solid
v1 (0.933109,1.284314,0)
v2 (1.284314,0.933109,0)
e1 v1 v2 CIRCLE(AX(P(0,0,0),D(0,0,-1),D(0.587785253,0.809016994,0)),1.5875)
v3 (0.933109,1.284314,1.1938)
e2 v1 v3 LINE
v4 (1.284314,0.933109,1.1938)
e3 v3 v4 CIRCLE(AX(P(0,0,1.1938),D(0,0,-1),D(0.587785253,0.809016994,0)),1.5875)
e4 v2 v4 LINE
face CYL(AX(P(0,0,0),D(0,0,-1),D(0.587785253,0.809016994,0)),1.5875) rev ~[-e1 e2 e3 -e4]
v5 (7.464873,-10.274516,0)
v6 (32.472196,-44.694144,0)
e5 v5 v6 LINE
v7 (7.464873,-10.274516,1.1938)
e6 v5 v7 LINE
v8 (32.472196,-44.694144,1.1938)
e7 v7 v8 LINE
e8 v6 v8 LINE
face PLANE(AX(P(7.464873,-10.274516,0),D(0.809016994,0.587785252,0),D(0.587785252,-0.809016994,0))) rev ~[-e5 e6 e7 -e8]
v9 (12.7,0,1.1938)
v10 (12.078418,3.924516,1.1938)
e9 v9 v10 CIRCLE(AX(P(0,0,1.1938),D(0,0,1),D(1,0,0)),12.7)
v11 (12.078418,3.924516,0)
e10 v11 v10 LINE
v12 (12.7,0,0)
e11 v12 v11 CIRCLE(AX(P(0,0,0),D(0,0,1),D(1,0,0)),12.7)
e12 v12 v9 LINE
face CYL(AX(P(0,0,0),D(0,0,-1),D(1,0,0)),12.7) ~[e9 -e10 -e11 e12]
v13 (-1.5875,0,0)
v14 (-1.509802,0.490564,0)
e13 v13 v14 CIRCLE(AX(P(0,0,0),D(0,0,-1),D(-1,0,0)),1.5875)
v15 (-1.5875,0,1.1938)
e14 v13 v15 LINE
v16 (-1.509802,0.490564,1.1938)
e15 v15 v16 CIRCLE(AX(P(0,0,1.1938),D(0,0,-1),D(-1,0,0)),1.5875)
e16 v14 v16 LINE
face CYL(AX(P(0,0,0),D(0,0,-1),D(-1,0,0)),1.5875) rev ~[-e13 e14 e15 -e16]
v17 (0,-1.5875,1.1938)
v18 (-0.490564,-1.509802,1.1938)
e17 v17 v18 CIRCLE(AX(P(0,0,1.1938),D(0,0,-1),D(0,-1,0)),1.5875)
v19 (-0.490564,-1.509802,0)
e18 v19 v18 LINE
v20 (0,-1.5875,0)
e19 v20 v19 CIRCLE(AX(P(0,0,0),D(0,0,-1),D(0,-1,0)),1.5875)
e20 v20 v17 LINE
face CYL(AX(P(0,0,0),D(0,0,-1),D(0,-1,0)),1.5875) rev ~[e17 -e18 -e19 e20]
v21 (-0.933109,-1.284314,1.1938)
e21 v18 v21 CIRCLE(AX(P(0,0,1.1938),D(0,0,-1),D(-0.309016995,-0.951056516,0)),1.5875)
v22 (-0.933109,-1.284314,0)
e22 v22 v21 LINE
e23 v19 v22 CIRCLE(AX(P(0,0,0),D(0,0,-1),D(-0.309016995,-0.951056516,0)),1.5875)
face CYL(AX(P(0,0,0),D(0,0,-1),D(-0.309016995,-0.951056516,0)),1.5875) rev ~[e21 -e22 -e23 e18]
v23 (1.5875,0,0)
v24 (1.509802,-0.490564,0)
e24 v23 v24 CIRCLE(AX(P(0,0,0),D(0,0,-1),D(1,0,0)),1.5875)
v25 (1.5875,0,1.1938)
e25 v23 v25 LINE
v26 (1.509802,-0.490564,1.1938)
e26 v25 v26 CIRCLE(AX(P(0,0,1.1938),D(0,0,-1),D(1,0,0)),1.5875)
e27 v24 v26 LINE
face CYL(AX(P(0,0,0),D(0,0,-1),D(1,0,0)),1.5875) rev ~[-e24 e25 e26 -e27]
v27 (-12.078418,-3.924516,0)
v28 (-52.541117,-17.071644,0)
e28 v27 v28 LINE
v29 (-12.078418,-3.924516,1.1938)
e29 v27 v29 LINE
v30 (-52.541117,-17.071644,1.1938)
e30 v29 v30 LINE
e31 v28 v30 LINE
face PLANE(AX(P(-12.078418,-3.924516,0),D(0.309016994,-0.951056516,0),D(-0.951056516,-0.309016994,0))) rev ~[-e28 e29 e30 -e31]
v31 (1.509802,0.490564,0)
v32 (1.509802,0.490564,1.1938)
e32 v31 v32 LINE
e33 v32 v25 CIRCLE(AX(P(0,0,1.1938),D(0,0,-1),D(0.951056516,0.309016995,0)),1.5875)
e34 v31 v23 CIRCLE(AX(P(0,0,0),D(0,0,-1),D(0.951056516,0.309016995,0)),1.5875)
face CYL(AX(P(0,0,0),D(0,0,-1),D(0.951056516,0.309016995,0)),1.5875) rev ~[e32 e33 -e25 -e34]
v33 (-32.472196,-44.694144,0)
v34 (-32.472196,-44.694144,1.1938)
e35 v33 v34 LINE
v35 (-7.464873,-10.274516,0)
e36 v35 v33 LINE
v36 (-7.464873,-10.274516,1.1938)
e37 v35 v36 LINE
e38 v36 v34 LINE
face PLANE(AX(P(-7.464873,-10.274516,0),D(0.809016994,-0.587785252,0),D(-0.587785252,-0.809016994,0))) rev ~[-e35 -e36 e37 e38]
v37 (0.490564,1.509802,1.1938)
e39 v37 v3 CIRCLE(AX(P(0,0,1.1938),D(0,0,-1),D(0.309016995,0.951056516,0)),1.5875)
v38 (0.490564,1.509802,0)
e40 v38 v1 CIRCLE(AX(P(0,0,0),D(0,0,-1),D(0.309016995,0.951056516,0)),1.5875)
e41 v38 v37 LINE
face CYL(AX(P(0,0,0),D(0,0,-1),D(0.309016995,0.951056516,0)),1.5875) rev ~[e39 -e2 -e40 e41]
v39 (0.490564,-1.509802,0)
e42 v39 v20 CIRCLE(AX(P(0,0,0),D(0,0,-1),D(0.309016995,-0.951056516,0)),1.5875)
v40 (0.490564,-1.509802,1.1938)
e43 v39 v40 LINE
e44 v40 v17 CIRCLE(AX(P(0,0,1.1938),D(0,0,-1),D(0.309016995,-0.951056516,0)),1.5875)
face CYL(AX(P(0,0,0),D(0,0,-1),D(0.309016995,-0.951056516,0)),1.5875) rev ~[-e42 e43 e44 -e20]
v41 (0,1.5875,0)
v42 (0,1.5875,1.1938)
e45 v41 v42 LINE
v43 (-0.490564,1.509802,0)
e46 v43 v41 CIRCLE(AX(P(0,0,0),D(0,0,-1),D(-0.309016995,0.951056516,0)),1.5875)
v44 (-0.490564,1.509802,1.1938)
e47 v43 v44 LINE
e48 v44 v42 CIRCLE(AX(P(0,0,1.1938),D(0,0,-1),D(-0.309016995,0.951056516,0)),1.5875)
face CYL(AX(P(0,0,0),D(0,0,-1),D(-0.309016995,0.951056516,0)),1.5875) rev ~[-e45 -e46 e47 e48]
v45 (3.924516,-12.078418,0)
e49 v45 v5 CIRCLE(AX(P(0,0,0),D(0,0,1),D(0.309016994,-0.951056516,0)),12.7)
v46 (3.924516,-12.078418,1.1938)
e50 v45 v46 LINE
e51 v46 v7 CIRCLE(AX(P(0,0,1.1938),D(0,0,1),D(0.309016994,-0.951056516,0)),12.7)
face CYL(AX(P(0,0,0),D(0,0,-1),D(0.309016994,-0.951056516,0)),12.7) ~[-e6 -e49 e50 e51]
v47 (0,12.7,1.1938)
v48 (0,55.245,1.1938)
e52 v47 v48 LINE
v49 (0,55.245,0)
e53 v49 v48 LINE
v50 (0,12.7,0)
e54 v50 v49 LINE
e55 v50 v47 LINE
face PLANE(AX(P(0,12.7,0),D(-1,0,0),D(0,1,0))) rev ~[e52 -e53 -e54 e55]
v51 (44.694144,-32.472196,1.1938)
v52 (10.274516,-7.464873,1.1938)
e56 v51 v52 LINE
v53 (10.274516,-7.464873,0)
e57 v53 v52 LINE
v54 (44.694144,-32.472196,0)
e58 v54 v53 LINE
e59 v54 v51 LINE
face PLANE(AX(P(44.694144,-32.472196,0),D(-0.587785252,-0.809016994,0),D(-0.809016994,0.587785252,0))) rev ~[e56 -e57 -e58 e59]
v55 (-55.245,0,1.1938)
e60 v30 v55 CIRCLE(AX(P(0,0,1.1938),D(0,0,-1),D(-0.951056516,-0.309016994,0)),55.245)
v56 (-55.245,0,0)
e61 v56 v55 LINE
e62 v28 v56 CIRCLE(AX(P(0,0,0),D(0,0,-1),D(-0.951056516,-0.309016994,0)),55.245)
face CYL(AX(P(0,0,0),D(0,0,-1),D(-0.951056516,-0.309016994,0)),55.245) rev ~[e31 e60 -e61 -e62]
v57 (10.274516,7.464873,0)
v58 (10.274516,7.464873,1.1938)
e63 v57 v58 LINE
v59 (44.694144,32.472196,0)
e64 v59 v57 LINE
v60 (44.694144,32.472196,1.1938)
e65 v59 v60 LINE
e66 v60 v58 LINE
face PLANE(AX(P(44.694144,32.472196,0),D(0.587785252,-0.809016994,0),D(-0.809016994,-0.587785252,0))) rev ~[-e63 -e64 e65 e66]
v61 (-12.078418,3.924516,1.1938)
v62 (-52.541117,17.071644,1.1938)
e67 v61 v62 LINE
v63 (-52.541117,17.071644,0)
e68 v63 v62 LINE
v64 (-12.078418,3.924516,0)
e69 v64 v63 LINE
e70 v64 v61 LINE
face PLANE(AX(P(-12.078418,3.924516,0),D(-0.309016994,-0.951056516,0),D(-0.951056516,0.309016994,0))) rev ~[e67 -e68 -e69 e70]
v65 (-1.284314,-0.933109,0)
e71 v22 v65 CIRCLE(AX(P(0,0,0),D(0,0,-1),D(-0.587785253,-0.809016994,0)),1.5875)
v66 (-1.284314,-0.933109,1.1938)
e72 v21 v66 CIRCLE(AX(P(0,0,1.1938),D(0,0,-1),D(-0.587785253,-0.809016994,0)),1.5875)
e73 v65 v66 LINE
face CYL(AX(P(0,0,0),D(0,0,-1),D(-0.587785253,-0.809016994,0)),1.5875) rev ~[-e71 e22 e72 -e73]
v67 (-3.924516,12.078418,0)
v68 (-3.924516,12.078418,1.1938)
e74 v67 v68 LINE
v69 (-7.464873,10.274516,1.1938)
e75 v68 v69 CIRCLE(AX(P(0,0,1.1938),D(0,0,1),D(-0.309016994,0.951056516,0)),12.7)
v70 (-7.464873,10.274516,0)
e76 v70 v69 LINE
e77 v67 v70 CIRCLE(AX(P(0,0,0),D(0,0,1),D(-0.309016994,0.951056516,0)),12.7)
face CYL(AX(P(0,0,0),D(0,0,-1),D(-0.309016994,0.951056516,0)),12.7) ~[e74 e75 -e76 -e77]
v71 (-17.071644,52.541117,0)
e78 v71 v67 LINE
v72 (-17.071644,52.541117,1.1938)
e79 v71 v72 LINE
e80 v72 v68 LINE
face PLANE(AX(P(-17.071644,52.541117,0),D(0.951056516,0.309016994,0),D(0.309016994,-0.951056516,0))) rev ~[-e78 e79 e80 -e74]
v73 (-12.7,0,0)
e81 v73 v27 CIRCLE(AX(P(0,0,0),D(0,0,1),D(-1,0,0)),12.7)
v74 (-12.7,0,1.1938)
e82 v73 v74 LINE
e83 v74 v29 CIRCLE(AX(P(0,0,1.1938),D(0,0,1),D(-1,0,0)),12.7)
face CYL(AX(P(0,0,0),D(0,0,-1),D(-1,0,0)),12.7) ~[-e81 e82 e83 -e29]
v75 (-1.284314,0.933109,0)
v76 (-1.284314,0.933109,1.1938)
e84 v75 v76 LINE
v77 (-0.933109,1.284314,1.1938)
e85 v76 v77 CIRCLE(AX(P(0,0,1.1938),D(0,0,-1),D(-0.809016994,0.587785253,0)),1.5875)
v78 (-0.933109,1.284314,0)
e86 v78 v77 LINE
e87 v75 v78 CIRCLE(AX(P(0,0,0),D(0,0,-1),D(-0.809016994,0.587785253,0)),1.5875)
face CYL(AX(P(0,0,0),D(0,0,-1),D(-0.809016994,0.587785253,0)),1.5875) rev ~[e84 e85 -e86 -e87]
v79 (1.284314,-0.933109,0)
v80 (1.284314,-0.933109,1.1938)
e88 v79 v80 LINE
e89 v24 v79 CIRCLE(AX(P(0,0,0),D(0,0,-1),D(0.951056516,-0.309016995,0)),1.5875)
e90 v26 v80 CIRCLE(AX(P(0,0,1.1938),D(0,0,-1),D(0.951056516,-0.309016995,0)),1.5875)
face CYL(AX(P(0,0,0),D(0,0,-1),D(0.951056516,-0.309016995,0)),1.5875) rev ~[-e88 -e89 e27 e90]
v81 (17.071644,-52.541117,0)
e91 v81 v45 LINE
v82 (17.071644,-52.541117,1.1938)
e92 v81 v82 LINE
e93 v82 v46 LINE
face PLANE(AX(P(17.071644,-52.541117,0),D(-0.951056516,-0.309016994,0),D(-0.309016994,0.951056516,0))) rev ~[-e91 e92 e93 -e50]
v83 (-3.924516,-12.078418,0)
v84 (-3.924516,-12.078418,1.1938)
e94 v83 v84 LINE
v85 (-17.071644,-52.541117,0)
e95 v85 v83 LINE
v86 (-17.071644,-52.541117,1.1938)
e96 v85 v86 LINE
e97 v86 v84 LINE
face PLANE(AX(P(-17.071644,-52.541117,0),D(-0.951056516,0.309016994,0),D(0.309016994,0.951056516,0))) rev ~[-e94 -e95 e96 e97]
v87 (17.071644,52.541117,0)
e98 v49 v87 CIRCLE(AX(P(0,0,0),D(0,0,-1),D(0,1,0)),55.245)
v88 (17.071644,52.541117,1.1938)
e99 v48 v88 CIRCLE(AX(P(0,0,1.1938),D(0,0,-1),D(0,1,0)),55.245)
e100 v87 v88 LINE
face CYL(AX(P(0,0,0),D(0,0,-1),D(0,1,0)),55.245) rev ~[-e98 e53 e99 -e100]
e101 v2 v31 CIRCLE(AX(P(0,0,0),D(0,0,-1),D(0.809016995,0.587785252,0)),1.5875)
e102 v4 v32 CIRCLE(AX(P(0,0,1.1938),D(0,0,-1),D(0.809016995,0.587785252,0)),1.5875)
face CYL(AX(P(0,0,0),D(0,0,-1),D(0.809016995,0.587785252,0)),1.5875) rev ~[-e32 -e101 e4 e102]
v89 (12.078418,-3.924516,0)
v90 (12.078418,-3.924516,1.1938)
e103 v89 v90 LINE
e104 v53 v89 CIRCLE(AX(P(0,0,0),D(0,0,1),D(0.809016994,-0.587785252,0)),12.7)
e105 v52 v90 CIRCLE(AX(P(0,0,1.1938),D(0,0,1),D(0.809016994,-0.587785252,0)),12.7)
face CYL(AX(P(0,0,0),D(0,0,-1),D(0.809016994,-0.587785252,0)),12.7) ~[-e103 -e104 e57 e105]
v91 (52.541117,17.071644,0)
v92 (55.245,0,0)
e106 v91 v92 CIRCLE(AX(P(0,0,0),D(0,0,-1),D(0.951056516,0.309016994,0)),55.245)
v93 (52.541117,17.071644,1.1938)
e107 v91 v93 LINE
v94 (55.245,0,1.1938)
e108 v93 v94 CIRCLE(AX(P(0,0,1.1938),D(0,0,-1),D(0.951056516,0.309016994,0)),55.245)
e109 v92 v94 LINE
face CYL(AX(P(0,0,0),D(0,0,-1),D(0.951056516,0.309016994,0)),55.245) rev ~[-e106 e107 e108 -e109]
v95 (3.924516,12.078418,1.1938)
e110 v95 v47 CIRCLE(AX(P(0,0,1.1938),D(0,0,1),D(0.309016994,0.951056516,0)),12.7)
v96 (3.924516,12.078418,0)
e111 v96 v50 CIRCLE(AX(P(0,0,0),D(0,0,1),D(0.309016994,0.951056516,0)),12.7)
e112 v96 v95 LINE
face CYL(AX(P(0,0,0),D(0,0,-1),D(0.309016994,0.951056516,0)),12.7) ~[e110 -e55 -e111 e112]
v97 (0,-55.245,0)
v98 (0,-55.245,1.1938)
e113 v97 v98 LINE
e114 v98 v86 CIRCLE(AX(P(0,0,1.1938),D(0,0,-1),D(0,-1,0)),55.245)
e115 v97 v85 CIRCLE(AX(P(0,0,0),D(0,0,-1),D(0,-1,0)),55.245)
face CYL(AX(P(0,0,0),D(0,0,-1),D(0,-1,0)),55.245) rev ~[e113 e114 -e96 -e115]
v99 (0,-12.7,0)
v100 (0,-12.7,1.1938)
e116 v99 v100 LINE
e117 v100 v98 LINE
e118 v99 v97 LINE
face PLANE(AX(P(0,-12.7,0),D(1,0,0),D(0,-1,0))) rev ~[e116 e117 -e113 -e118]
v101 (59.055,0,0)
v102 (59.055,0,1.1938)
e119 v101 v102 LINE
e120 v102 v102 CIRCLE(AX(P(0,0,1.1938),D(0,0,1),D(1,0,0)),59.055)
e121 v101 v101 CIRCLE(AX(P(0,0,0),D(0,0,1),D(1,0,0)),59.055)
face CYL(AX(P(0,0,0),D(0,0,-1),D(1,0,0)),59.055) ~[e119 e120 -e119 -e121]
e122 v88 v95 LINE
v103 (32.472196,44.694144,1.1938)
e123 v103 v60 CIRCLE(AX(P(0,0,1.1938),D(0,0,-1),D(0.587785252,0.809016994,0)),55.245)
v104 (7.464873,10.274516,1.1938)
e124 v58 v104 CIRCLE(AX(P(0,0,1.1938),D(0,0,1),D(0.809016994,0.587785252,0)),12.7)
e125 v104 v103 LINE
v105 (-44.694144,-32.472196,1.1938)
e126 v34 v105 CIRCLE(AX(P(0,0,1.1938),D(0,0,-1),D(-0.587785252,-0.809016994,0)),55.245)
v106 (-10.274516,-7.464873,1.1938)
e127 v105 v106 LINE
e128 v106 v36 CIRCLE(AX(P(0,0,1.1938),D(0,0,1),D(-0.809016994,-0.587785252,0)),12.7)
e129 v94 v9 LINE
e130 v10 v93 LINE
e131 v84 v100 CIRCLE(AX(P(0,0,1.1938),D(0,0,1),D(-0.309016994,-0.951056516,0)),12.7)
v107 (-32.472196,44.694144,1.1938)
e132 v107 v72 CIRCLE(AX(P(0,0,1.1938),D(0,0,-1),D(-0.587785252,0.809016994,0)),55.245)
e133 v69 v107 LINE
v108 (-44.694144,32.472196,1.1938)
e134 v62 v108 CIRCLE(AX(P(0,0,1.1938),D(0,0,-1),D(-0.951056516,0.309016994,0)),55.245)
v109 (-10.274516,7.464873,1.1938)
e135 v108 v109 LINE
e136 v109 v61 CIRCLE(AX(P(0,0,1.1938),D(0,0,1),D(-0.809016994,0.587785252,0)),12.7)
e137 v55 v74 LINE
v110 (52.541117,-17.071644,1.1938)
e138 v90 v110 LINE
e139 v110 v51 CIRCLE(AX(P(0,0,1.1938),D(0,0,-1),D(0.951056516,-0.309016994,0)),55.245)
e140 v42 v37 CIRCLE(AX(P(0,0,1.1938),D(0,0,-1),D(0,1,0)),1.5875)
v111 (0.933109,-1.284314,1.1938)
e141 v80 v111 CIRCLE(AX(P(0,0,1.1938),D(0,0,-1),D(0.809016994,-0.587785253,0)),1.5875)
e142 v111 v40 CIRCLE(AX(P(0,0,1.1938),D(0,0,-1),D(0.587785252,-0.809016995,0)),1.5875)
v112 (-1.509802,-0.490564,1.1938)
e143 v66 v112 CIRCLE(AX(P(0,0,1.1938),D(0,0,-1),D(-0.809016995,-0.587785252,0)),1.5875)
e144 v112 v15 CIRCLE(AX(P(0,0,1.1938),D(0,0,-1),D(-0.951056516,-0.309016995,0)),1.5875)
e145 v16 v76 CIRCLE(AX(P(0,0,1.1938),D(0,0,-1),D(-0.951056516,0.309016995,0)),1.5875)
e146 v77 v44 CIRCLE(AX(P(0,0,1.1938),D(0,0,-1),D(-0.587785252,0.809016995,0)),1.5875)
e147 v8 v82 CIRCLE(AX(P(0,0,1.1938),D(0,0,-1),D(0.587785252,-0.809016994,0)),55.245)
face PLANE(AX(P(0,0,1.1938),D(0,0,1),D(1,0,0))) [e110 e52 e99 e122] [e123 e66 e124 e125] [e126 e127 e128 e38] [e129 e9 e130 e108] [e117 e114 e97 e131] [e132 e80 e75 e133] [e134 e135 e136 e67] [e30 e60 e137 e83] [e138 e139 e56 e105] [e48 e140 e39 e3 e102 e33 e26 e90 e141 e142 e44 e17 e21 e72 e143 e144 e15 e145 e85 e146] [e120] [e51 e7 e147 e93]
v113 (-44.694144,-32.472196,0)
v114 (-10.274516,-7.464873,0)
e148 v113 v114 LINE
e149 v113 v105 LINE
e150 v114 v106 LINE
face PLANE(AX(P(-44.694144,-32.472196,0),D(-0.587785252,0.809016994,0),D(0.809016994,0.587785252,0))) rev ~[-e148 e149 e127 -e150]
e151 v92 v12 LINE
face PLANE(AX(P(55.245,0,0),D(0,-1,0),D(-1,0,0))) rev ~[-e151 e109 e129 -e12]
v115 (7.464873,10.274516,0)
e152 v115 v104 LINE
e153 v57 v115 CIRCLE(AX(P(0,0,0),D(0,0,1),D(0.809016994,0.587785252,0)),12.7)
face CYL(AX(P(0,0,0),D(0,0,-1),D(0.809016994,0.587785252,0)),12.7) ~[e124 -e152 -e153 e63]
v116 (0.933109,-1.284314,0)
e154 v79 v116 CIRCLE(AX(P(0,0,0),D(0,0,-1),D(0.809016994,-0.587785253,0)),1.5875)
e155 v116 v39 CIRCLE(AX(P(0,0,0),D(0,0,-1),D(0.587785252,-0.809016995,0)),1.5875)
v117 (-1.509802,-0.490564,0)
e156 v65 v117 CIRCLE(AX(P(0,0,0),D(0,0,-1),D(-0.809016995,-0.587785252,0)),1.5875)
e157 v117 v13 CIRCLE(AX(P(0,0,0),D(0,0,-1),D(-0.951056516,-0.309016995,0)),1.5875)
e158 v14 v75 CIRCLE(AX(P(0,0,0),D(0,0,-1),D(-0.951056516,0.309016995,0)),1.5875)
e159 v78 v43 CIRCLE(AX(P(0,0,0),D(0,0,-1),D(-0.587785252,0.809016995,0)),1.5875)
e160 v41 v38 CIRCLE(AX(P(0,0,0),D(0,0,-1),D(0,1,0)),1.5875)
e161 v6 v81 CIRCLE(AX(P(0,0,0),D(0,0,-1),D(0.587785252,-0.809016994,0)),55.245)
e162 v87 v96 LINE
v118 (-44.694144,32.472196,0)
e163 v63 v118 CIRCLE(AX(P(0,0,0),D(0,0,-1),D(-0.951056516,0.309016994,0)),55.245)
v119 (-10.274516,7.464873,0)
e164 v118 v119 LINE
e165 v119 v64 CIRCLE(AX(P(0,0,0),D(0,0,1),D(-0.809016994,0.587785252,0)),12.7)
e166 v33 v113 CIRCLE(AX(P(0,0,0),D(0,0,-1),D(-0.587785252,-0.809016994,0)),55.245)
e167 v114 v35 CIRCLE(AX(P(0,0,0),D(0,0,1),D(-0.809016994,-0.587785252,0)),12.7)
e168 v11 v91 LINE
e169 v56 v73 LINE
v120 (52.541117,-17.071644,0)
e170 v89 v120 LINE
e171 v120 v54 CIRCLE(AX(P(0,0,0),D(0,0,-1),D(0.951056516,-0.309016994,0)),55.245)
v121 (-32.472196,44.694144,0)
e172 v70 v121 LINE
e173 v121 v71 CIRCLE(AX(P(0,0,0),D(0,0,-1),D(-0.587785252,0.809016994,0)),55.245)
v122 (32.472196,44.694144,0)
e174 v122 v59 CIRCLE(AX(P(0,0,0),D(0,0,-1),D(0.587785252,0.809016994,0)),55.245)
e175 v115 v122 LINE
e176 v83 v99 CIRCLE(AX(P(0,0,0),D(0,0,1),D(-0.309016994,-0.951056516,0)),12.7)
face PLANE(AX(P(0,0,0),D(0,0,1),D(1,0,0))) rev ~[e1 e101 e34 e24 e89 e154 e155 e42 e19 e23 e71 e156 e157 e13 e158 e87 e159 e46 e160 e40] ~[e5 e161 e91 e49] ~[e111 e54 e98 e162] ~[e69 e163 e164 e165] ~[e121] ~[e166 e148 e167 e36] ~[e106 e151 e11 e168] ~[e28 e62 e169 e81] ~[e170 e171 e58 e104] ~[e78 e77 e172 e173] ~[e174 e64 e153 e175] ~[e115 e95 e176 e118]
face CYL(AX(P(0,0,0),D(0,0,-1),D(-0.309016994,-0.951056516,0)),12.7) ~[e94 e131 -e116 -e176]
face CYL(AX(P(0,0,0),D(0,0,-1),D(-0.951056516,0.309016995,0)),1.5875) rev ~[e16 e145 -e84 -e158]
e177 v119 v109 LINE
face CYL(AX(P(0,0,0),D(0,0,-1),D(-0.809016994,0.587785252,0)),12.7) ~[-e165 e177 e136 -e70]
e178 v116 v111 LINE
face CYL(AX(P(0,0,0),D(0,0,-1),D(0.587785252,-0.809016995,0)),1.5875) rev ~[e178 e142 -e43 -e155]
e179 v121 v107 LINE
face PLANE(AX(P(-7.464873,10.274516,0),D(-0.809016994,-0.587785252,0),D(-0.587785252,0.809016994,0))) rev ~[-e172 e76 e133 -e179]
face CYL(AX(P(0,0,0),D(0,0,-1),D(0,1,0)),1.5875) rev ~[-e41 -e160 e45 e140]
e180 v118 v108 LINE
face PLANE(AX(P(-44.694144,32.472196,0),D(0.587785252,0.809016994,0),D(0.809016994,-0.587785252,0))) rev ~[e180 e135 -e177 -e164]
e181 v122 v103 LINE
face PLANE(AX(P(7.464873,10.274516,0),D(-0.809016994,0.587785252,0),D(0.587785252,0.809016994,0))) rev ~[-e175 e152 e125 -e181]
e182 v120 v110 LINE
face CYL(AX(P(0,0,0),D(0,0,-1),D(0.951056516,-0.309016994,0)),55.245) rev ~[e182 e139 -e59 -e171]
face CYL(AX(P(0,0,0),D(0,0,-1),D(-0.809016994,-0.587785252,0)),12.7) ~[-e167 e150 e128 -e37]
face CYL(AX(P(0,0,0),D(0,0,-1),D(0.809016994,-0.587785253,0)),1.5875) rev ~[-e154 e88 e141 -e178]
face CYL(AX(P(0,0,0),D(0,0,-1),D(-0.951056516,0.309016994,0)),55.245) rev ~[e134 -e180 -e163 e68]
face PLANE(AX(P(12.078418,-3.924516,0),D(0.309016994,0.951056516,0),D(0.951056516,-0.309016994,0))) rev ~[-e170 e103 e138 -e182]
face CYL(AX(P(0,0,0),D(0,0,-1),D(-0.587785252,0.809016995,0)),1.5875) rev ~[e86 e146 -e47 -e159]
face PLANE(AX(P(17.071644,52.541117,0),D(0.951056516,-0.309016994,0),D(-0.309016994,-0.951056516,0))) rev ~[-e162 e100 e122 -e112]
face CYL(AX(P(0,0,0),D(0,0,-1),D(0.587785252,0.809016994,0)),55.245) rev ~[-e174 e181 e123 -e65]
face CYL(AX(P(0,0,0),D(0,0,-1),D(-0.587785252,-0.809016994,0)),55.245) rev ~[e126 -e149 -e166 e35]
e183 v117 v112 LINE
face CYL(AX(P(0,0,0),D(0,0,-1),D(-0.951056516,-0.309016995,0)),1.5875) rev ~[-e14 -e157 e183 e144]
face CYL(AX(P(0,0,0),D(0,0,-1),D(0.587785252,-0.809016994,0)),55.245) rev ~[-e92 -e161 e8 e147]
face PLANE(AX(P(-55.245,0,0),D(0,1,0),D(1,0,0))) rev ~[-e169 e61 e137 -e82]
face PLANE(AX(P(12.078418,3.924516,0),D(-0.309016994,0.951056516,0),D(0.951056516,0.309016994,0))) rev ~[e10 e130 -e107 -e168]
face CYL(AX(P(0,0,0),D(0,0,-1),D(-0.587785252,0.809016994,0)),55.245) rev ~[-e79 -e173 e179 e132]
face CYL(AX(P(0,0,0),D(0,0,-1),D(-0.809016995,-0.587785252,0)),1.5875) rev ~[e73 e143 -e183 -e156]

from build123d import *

# Parameters (mm, degrees)
F0_R     = 59.055
F1_DEPTH = 1.1938
F2_DEPTH = 1.1938


with BuildPart() as f1:
    # F0 (on Top) → F1 (new body)
    with BuildSketch(Plane.XY):
        Circle(F0_R)
        with BuildLine():
            ThreePointArc((52.5411172427, 17.0716438542), (54.5648423762, 8.6422220211), (55.245, 0))
            ThreePointArc((55.245, 0), (54.5648423762, -8.6422220211), (52.5411172427, -17.0716438542))
            ThreePointArc((52.5411172427, -17.0716438542), (49.2236554288, -25.0807051581), (44.6941438542, -32.4721962629))
            ThreePointArc((44.6941438542, -32.4721962629), (39.0641141267, -39.0641141267), (32.4721962629, -44.6941438542))
            ThreePointArc((32.4721962629, -44.6941438542), (25.0807051581, -49.2236554288), (17.0716438542, -52.5411172427))
            ThreePointArc((17.0716438542, -52.5411172427), (8.6422220211, -54.5648423762), (0, -55.245))
            ThreePointArc((0, -55.245), (-8.6422220211, -54.5648423762), (-17.0716438542, -52.5411172427))
            ThreePointArc((-17.0716438542, -52.5411172427), (-25.0807051581, -49.2236554288), (-32.4721962629, -44.6941438542))
            ThreePointArc((-32.4721962629, -44.6941438542), (-39.0641141267, -39.0641141267), (-44.6941438542, -32.4721962629))
            ThreePointArc((-44.6941438542, -32.4721962629), (-49.2236554288, -25.0807051581), (-52.5411172427, -17.0716438542))
            ThreePointArc((-52.5411172427, -17.0716438542), (-54.5648423762, -8.6422220211), (-55.245, 0))
            ThreePointArc((-55.245, 0), (-54.5648423762, 8.6422220211), (-52.5411172427, 17.0716438542))
            ThreePointArc((-52.5411172427, 17.0716438542), (-49.2236554288, 25.0807051581), (-44.6941438542, 32.4721962629))
            ThreePointArc((-44.6941438542, 32.4721962629), (-39.0641141267, 39.0641141267), (-32.4721962629, 44.6941438542))
            ThreePointArc((-32.4721962629, 44.6941438542), (-25.0807051581, 49.2236554288), (-17.0716438542, 52.5411172427))
            ThreePointArc((-17.0716438542, 52.5411172427), (-8.6422220211, 54.5648423762), (0, 55.245))
            ThreePointArc((0, 55.245), (8.6422220211, 54.5648423762), (17.0716438542, 52.5411172427))
            ThreePointArc((17.0716438542, 52.5411172427), (25.0807051581, 49.2236554288), (32.4721962629, 44.6941438542))
            ThreePointArc((32.4721962629, 44.6941438542), (39.0641141267, 39.0641141267), (44.6941438542, 32.4721962629))
            ThreePointArc((44.6941438542, 32.4721962629), (49.2236554288, 25.0807051581), (52.5411172427, 17.0716438542))
        make_face(mode=Mode.SUBTRACT)
        with BuildLine():
            ThreePointArc((0, -55.245), (8.6422220211, -54.5648423762), (17.0716438542, -52.5411172427))
            Line((17.0716438542, -52.5411172427), (3.9245158286, -12.0784177569))
            ThreePointArc((3.9245158286, -12.0784177569), (1.986717706, -12.5436419256), (0, -12.7))
            Line((0, -12.7), (0, -55.245))
        make_face()
        with BuildLine():
            ThreePointArc((-3.9245158286, -12.0784177569), (-5.7656793467, -11.3157828572), (-7.4648727041, -10.2745158286))
            Line((-7.4648727041, -10.2745158286), (-32.4721962629, -44.6941438542))
            ThreePointArc((-32.4721962629, -44.6941438542), (-25.0807051581, -49.2236554288), (-17.0716438542, -52.5411172427))
            Line((-17.0716438542, -52.5411172427), (-3.9245158286, -12.0784177569))
        make_face()
        with BuildLine():
            ThreePointArc((-10.2745158286, -7.4648727041), (-11.3157828572, -5.7656793467), (-12.0784177569, -3.9245158286))
            Line((-12.0784177569, -3.9245158286), (-52.5411172427, -17.0716438542))
            ThreePointArc((-52.5411172427, -17.0716438542), (-49.2236554288, -25.0807051581), (-44.6941438542, -32.4721962629))
            Line((-44.6941438542, -32.4721962629), (-10.2745158286, -7.4648727041))
        make_face()
        with BuildLine():
            ThreePointArc((-12.7, 0), (-12.5436419256, 1.986717706), (-12.0784177569, 3.9245158286))
            Line((-12.0784177569, 3.9245158286), (-52.5411172427, 17.0716438542))
            ThreePointArc((-52.5411172427, 17.0716438542), (-54.5648423762, 8.6422220211), (-55.245, 0))
            Line((-55.245, 0), (-12.7, 0))
        make_face()
        with BuildLine():
            ThreePointArc((-10.2745158286, 7.4648727041), (-8.9802561211, 8.9802561211), (-7.4648727041, 10.2745158286))
            Line((-7.4648727041, 10.2745158286), (-32.4721962629, 44.6941438542))
            ThreePointArc((-32.4721962629, 44.6941438542), (-39.0641141267, 39.0641141267), (-44.6941438542, 32.4721962629))
            Line((-44.6941438542, 32.4721962629), (-10.2745158286, 7.4648727041))
        make_face()
        with BuildLine():
            Line((0, 12.7), (0, 55.245))
            ThreePointArc((0, 55.245), (-8.6422220211, 54.5648423762), (-17.0716438542, 52.5411172427))
            Line((-17.0716438542, 52.5411172427), (-3.9245158286, 12.0784177569))
            ThreePointArc((-3.9245158286, 12.0784177569), (-1.986717706, 12.5436419256), (0, 12.7))
        make_face()
        with BuildLine():
            Line((7.4648727041, 10.2745158286), (32.4721962629, 44.6941438542))
            ThreePointArc((32.4721962629, 44.6941438542), (25.0807051581, 49.2236554288), (17.0716438542, 52.5411172427))
            Line((17.0716438542, 52.5411172427), (3.9245158286, 12.0784177569))
            ThreePointArc((3.9245158286, 12.0784177569), (5.7656793467, 11.3157828572), (7.4648727041, 10.2745158286))
        make_face()
        with BuildLine():
            Line((12.0784177569, 3.9245158286), (52.5411172427, 17.0716438542))
            ThreePointArc((52.5411172427, 17.0716438542), (49.2236554288, 25.0807051581), (44.6941438542, 32.4721962629))
            Line((44.6941438542, 32.4721962629), (10.2745158286, 7.4648727041))
            ThreePointArc((10.2745158286, 7.4648727041), (11.3157828572, 5.7656793467), (12.0784177569, 3.9245158286))
        make_face()
        with BuildLine():
            ThreePointArc((52.5411172427, -17.0716438542), (54.5648423762, -8.6422220211), (55.245, 0))
            Line((55.245, 0), (12.7, 0))
            ThreePointArc((12.7, 0), (12.5436419256, -1.986717706), (12.0784177569, -3.9245158286))
            Line((12.0784177569, -3.9245158286), (52.5411172427, -17.0716438542))
        make_face()
        with BuildLine():
            ThreePointArc((32.4721962629, -44.6941438542), (39.0641141267, -39.0641141267), (44.6941438542, -32.4721962629))
            Line((44.6941438542, -32.4721962629), (10.2745158286, -7.4648727041))
            ThreePointArc((10.2745158286, -7.4648727041), (8.9802561211, -8.9802561211), (7.4648727041, -10.2745158286))
            Line((7.4648727041, -10.2745158286), (32.4721962629, -44.6941438542))
        make_face()
        with BuildLine():
            Line((0, 12.7), (0, 1.5875))
            ThreePointArc((0, 1.5875), (0.2483397133, 1.5679552407), (0.4905644786, 1.5098022196))
            Line((0.4905644786, 1.5098022196), (3.9245158286, 12.0784177569))
            ThreePointArc((3.9245158286, 12.0784177569), (1.986717706, 12.5436419256), (0, 12.7))
        make_face()
        with BuildLine():
            ThreePointArc((-0.4905644786, 1.5098022196), (-0.2483397133, 1.5679552407), (0, 1.5875))
            Line((0, 1.5875), (0, 12.7))
            ThreePointArc((0, 12.7), (-1.986717706, 12.5436419256), (-3.9245158286, 12.0784177569))
            Line((-3.9245158286, 12.0784177569), (-0.4905644786, 1.5098022196))
        make_face()
        with BuildLine():
            ThreePointArc((-0.933109088, 1.2843144786), (-0.7207099183, 1.4144728571), (-0.4905644786, 1.5098022196))
            Line((-0.4905644786, 1.5098022196), (-3.9245158286, 12.0784177569))
            ThreePointArc((-3.9245158286, 12.0784177569), (-5.7656793467, 11.3157828572), (-7.4648727041, 10.2745158286))
            Line((-7.4648727041, 10.2745158286), (-0.933109088, 1.2843144786))
        make_face()
        with BuildLine():
            ThreePointArc((-1.2843144786, 0.933109088), (-1.1225320151, 1.1225320151), (-0.933109088, 1.2843144786))
            Line((-0.933109088, 1.2843144786), (-7.4648727041, 10.2745158286))
            ThreePointArc((-7.4648727041, 10.2745158286), (-8.9802561211, 8.9802561211), (-10.2745158286, 7.4648727041))
            Line((-10.2745158286, 7.4648727041), (-1.2843144786, 0.933109088))
        make_face()
        with BuildLine():
            ThreePointArc((-1.5098022196, 0.4905644786), (-1.4144728571, 0.7207099183), (-1.2843144786, 0.933109088))
            Line((-1.2843144786, 0.933109088), (-10.2745158286, 7.4648727041))
            ThreePointArc((-10.2745158286, 7.4648727041), (-11.3157828572, 5.7656793467), (-12.0784177569, 3.9245158286))
            Line((-12.0784177569, 3.9245158286), (-1.5098022196, 0.4905644786))
        make_face()
        with BuildLine():
            ThreePointArc((-1.5875, 0), (-1.5679552407, 0.2483397133), (-1.5098022196, 0.4905644786))
            Line((-1.5098022196, 0.4905644786), (-12.0784177569, 3.9245158286))
            ThreePointArc((-12.0784177569, 3.9245158286), (-12.5436419256, 1.986717706), (-12.7, 0))
            Line((-12.7, 0), (-1.5875, 0))
        make_face()
        with BuildLine():
            ThreePointArc((-1.5098022196, -0.4905644786), (-1.5679552407, -0.2483397133), (-1.5875, 0))
            Line((-1.5875, 0), (-12.7, 0))
            ThreePointArc((-12.7, 0), (-12.5436419256, -1.986717706), (-12.0784177569, -3.9245158286))
            Line((-12.0784177569, -3.9245158286), (-1.5098022196, -0.4905644786))
        make_face()
        with BuildLine():
            ThreePointArc((-1.2843144786, -0.933109088), (-1.4144728571, -0.7207099183), (-1.5098022196, -0.4905644786))
            Line((-1.5098022196, -0.4905644786), (-12.0784177569, -3.9245158286))
            ThreePointArc((-12.0784177569, -3.9245158286), (-11.3157828572, -5.7656793467), (-10.2745158286, -7.4648727041))
            Line((-10.2745158286, -7.4648727041), (-1.2843144786, -0.933109088))
        make_face()
        with BuildLine():
            ThreePointArc((-0.933109088, -1.2843144786), (-1.1225320151, -1.1225320151), (-1.2843144786, -0.933109088))
            Line((-1.2843144786, -0.933109088), (-10.2745158286, -7.4648727041))
            ThreePointArc((-10.2745158286, -7.4648727041), (-8.9802561211, -8.9802561211), (-7.4648727041, -10.2745158286))
            Line((-7.4648727041, -10.2745158286), (-0.933109088, -1.2843144786))
        make_face()
        with BuildLine():
            ThreePointArc((-0.4905644786, -1.5098022196), (-0.7207099183, -1.4144728571), (-0.933109088, -1.2843144786))
            Line((-0.933109088, -1.2843144786), (-7.4648727041, -10.2745158286))
            ThreePointArc((-7.4648727041, -10.2745158286), (-5.7656793467, -11.3157828572), (-3.9245158286, -12.0784177569))
            Line((-3.9245158286, -12.0784177569), (-0.4905644786, -1.5098022196))
        make_face()
        with BuildLine():
            ThreePointArc((0, -1.5875), (-0.2483397133, -1.5679552407), (-0.4905644786, -1.5098022196))
            Line((-0.4905644786, -1.5098022196), (-3.9245158286, -12.0784177569))
            ThreePointArc((-3.9245158286, -12.0784177569), (-1.986717706, -12.5436419256), (0, -12.7))
            Line((0, -12.7), (0, -1.5875))
        make_face()
        with BuildLine():
            ThreePointArc((0.4905644786, -1.5098022196), (0.2483397133, -1.5679552407), (0, -1.5875))
            Line((0, -1.5875), (0, -12.7))
            ThreePointArc((0, -12.7), (1.986717706, -12.5436419256), (3.9245158286, -12.0784177569))
            Line((3.9245158286, -12.0784177569), (0.4905644786, -1.5098022196))
        make_face()
        with BuildLine():
            ThreePointArc((3.9245158286, -12.0784177569), (5.7656793467, -11.3157828572), (7.4648727041, -10.2745158286))
            Line((7.4648727041, -10.2745158286), (0.933109088, -1.2843144786))
            ThreePointArc((0.933109088, -1.2843144786), (0.7207099183, -1.4144728571), (0.4905644786, -1.5098022196))
            Line((0.4905644786, -1.5098022196), (3.9245158286, -12.0784177569))
        make_face()
        with BuildLine():
            ThreePointArc((7.4648727041, -10.2745158286), (8.9802561211, -8.9802561211), (10.2745158286, -7.4648727041))
            Line((10.2745158286, -7.4648727041), (1.2843144786, -0.933109088))
            ThreePointArc((1.2843144786, -0.933109088), (1.1225320151, -1.1225320151), (0.933109088, -1.2843144786))
            Line((0.933109088, -1.2843144786), (7.4648727041, -10.2745158286))
        make_face()
        with BuildLine():
            ThreePointArc((10.2745158286, -7.4648727041), (11.3157828572, -5.7656793467), (12.0784177569, -3.9245158286))
            Line((12.0784177569, -3.9245158286), (1.5098022196, -0.4905644786))
            ThreePointArc((1.5098022196, -0.4905644786), (1.4144728571, -0.7207099183), (1.2843144786, -0.933109088))
            Line((1.2843144786, -0.933109088), (10.2745158286, -7.4648727041))
        make_face()
        with BuildLine():
            ThreePointArc((12.0784177569, -3.9245158286), (12.5436419256, -1.986717706), (12.7, 0))
            Line((12.7, 0), (1.5875, 0))
            ThreePointArc((1.5875, 0), (1.5679552407, -0.2483397133), (1.5098022196, -0.4905644786))
            Line((1.5098022196, -0.4905644786), (12.0784177569, -3.9245158286))
        make_face()
        with BuildLine():
            Line((1.5875, 0), (12.7, 0))
            ThreePointArc((12.7, 0), (12.5436419256, 1.986717706), (12.0784177569, 3.9245158286))
            Line((12.0784177569, 3.9245158286), (1.5098022196, 0.4905644786))
            ThreePointArc((1.5098022196, 0.4905644786), (1.5679552407, 0.2483397133), (1.5875, 0))
        make_face()
        with BuildLine():
            Line((1.5098022196, 0.4905644786), (12.0784177569, 3.9245158286))
            ThreePointArc((12.0784177569, 3.9245158286), (11.3157828572, 5.7656793467), (10.2745158286, 7.4648727041))
            Line((10.2745158286, 7.4648727041), (1.2843144786, 0.933109088))
            ThreePointArc((1.2843144786, 0.933109088), (1.4144728571, 0.7207099183), (1.5098022196, 0.4905644786))
        make_face()
        with BuildLine():
            Line((1.2843144786, 0.933109088), (10.2745158286, 7.4648727041))
            ThreePointArc((10.2745158286, 7.4648727041), (8.9802561211, 8.9802561211), (7.4648727041, 10.2745158286))
            Line((7.4648727041, 10.2745158286), (0.933109088, 1.2843144786))
            ThreePointArc((0.933109088, 1.2843144786), (1.1225320151, 1.1225320151), (1.2843144786, 0.933109088))
        make_face()
        with BuildLine():
            Line((0.933109088, 1.2843144786), (7.4648727041, 10.2745158286))
            ThreePointArc((7.4648727041, 10.2745158286), (5.7656793467, 11.3157828572), (3.9245158286, 12.0784177569))
            Line((3.9245158286, 12.0784177569), (0.4905644786, 1.5098022196))
            ThreePointArc((0.4905644786, 1.5098022196), (0.7207099183, 1.4144728571), (0.933109088, 1.2843144786))
        make_face()
    extrude(amount=F1_DEPTH)

    # F0 (on Top) → F2 (cut)
    with BuildSketch(Plane.XY):
        with BuildLine():
            Line((-0.933109088, -1.2843144786), (0, 0))
            Line((0, 0), (-1.2843144786, -0.933109088))
            ThreePointArc((-1.2843144786, -0.933109088), (-1.1225320151, -1.1225320151), (-0.933109088, -1.2843144786))
        make_face()
        with BuildLine():
            Line((-1.2843144786, -0.933109088), (0, 0))
            Line((0, 0), (-1.5098022196, -0.4905644786))
            ThreePointArc((-1.5098022196, -0.4905644786), (-1.4144728571, -0.7207099183), (-1.2843144786, -0.933109088))
        make_face()
        with BuildLine():
            Line((-1.5098022196, -0.4905644786), (0, 0))
            Line((0, 0), (-1.5875, 0))
            ThreePointArc((-1.5875, 0), (-1.5679552407, -0.2483397133), (-1.5098022196, -0.4905644786))
        make_face()
        with BuildLine():
            Line((-1.5875, 0), (0, 0))
            Line((0, 0), (-1.5098022196, 0.4905644786))
            ThreePointArc((-1.5098022196, 0.4905644786), (-1.5679552407, 0.2483397133), (-1.5875, 0))
        make_face()
        with BuildLine():
            Line((-1.5098022196, 0.4905644786), (0, 0))
            Line((0, 0), (-1.2843144786, 0.933109088))
            ThreePointArc((-1.2843144786, 0.933109088), (-1.4144728571, 0.7207099183), (-1.5098022196, 0.4905644786))
        make_face()
        with BuildLine():
            Line((-1.2843144786, 0.933109088), (0, 0))
            Line((0, 0), (-0.933109088, 1.2843144786))
            ThreePointArc((-0.933109088, 1.2843144786), (-1.1225320151, 1.1225320151), (-1.2843144786, 0.933109088))
        make_face()
        with BuildLine():
            Line((-0.933109088, 1.2843144786), (0, 0))
            Line((0, 0), (-0.4905644786, 1.5098022196))
            ThreePointArc((-0.4905644786, 1.5098022196), (-0.7207099183, 1.4144728571), (-0.933109088, 1.2843144786))
        make_face()
        with BuildLine():
            Line((-0.4905644786, 1.5098022196), (0, 0))
            Line((0, 0), (0, 1.5875))
            ThreePointArc((0, 1.5875), (-0.2483397133, 1.5679552407), (-0.4905644786, 1.5098022196))
        make_face()
        with BuildLine():
            Line((0, 1.5875), (0, 0))
            Line((0, 0), (0.4905644786, 1.5098022196))
            ThreePointArc((0.4905644786, 1.5098022196), (0.2483397133, 1.5679552407), (0, 1.5875))
        make_face()
        with BuildLine():
            Line((0.4905644786, 1.5098022196), (0, 0))
            Line((0, 0), (0.933109088, 1.2843144786))
            ThreePointArc((0.933109088, 1.2843144786), (0.7207099183, 1.4144728571), (0.4905644786, 1.5098022196))
        make_face()
        with BuildLine():
            Line((0.933109088, 1.2843144786), (0, 0))
            Line((0, 0), (1.2843144786, 0.933109088))
            ThreePointArc((1.2843144786, 0.933109088), (1.1225320151, 1.1225320151), (0.933109088, 1.2843144786))
        make_face()
        with BuildLine():
            Line((0, 0), (1.5098022196, 0.4905644786))
            ThreePointArc((1.5098022196, 0.4905644786), (1.4144728571, 0.7207099183), (1.2843144786, 0.933109088))
            Line((1.2843144786, 0.933109088), (0, 0))
        make_face()
        with BuildLine():
            Line((0, 0), (1.5875, 0))
            ThreePointArc((1.5875, 0), (1.5679552407, 0.2483397133), (1.5098022196, 0.4905644786))
            Line((1.5098022196, 0.4905644786), (0, 0))
        make_face()
        with BuildLine():
            ThreePointArc((1.5098022196, -0.4905644786), (1.5679552407, -0.2483397133), (1.5875, 0))
            Line((1.5875, 0), (0, 0))
            Line((0, 0), (1.5098022196, -0.4905644786))
        make_face()
        with BuildLine():
            ThreePointArc((1.2843144786, -0.933109088), (1.4144728571, -0.7207099183), (1.5098022196, -0.4905644786))
            Line((1.5098022196, -0.4905644786), (0, 0))
            Line((0, 0), (1.2843144786, -0.933109088))
        make_face()
        with BuildLine():
            Line((1.2843144786, -0.933109088), (0, 0))
            Line((0, 0), (0.933109088, -1.2843144786))
            ThreePointArc((0.933109088, -1.2843144786), (1.1225320151, -1.1225320151), (1.2843144786, -0.933109088))
        make_face()
        with BuildLine():
            Line((0.933109088, -1.2843144786), (0, 0))
            Line((0, 0), (0.4905644786, -1.5098022196))
            ThreePointArc((0.4905644786, -1.5098022196), (0.7207099183, -1.4144728571), (0.933109088, -1.2843144786))
        make_face()
        with BuildLine():
            Line((0.4905644786, -1.5098022196), (0, 0))
            Line((0, 0), (0, -1.5875))
            ThreePointArc((0, -1.5875), (0.2483397133, -1.5679552407), (0.4905644786, -1.5098022196))
        make_face()
        with BuildLine():
            Line((0, -1.5875), (0, 0))
            Line((0, 0), (-0.4905644786, -1.5098022196))
            ThreePointArc((-0.4905644786, -1.5098022196), (-0.2483397133, -1.5679552407), (0, -1.5875))
        make_face()
        with BuildLine():
            Line((-0.4905644786, -1.5098022196), (0, 0))
            Line((0, 0), (-0.933109088, -1.2843144786))
            ThreePointArc((-0.933109088, -1.2843144786), (-0.7207099183, -1.4144728571), (-0.4905644786, -1.5098022196))
        make_face()
    extrude(amount=-F2_DEPTH, mode=Mode.SUBTRACT)


solid = f1.part
